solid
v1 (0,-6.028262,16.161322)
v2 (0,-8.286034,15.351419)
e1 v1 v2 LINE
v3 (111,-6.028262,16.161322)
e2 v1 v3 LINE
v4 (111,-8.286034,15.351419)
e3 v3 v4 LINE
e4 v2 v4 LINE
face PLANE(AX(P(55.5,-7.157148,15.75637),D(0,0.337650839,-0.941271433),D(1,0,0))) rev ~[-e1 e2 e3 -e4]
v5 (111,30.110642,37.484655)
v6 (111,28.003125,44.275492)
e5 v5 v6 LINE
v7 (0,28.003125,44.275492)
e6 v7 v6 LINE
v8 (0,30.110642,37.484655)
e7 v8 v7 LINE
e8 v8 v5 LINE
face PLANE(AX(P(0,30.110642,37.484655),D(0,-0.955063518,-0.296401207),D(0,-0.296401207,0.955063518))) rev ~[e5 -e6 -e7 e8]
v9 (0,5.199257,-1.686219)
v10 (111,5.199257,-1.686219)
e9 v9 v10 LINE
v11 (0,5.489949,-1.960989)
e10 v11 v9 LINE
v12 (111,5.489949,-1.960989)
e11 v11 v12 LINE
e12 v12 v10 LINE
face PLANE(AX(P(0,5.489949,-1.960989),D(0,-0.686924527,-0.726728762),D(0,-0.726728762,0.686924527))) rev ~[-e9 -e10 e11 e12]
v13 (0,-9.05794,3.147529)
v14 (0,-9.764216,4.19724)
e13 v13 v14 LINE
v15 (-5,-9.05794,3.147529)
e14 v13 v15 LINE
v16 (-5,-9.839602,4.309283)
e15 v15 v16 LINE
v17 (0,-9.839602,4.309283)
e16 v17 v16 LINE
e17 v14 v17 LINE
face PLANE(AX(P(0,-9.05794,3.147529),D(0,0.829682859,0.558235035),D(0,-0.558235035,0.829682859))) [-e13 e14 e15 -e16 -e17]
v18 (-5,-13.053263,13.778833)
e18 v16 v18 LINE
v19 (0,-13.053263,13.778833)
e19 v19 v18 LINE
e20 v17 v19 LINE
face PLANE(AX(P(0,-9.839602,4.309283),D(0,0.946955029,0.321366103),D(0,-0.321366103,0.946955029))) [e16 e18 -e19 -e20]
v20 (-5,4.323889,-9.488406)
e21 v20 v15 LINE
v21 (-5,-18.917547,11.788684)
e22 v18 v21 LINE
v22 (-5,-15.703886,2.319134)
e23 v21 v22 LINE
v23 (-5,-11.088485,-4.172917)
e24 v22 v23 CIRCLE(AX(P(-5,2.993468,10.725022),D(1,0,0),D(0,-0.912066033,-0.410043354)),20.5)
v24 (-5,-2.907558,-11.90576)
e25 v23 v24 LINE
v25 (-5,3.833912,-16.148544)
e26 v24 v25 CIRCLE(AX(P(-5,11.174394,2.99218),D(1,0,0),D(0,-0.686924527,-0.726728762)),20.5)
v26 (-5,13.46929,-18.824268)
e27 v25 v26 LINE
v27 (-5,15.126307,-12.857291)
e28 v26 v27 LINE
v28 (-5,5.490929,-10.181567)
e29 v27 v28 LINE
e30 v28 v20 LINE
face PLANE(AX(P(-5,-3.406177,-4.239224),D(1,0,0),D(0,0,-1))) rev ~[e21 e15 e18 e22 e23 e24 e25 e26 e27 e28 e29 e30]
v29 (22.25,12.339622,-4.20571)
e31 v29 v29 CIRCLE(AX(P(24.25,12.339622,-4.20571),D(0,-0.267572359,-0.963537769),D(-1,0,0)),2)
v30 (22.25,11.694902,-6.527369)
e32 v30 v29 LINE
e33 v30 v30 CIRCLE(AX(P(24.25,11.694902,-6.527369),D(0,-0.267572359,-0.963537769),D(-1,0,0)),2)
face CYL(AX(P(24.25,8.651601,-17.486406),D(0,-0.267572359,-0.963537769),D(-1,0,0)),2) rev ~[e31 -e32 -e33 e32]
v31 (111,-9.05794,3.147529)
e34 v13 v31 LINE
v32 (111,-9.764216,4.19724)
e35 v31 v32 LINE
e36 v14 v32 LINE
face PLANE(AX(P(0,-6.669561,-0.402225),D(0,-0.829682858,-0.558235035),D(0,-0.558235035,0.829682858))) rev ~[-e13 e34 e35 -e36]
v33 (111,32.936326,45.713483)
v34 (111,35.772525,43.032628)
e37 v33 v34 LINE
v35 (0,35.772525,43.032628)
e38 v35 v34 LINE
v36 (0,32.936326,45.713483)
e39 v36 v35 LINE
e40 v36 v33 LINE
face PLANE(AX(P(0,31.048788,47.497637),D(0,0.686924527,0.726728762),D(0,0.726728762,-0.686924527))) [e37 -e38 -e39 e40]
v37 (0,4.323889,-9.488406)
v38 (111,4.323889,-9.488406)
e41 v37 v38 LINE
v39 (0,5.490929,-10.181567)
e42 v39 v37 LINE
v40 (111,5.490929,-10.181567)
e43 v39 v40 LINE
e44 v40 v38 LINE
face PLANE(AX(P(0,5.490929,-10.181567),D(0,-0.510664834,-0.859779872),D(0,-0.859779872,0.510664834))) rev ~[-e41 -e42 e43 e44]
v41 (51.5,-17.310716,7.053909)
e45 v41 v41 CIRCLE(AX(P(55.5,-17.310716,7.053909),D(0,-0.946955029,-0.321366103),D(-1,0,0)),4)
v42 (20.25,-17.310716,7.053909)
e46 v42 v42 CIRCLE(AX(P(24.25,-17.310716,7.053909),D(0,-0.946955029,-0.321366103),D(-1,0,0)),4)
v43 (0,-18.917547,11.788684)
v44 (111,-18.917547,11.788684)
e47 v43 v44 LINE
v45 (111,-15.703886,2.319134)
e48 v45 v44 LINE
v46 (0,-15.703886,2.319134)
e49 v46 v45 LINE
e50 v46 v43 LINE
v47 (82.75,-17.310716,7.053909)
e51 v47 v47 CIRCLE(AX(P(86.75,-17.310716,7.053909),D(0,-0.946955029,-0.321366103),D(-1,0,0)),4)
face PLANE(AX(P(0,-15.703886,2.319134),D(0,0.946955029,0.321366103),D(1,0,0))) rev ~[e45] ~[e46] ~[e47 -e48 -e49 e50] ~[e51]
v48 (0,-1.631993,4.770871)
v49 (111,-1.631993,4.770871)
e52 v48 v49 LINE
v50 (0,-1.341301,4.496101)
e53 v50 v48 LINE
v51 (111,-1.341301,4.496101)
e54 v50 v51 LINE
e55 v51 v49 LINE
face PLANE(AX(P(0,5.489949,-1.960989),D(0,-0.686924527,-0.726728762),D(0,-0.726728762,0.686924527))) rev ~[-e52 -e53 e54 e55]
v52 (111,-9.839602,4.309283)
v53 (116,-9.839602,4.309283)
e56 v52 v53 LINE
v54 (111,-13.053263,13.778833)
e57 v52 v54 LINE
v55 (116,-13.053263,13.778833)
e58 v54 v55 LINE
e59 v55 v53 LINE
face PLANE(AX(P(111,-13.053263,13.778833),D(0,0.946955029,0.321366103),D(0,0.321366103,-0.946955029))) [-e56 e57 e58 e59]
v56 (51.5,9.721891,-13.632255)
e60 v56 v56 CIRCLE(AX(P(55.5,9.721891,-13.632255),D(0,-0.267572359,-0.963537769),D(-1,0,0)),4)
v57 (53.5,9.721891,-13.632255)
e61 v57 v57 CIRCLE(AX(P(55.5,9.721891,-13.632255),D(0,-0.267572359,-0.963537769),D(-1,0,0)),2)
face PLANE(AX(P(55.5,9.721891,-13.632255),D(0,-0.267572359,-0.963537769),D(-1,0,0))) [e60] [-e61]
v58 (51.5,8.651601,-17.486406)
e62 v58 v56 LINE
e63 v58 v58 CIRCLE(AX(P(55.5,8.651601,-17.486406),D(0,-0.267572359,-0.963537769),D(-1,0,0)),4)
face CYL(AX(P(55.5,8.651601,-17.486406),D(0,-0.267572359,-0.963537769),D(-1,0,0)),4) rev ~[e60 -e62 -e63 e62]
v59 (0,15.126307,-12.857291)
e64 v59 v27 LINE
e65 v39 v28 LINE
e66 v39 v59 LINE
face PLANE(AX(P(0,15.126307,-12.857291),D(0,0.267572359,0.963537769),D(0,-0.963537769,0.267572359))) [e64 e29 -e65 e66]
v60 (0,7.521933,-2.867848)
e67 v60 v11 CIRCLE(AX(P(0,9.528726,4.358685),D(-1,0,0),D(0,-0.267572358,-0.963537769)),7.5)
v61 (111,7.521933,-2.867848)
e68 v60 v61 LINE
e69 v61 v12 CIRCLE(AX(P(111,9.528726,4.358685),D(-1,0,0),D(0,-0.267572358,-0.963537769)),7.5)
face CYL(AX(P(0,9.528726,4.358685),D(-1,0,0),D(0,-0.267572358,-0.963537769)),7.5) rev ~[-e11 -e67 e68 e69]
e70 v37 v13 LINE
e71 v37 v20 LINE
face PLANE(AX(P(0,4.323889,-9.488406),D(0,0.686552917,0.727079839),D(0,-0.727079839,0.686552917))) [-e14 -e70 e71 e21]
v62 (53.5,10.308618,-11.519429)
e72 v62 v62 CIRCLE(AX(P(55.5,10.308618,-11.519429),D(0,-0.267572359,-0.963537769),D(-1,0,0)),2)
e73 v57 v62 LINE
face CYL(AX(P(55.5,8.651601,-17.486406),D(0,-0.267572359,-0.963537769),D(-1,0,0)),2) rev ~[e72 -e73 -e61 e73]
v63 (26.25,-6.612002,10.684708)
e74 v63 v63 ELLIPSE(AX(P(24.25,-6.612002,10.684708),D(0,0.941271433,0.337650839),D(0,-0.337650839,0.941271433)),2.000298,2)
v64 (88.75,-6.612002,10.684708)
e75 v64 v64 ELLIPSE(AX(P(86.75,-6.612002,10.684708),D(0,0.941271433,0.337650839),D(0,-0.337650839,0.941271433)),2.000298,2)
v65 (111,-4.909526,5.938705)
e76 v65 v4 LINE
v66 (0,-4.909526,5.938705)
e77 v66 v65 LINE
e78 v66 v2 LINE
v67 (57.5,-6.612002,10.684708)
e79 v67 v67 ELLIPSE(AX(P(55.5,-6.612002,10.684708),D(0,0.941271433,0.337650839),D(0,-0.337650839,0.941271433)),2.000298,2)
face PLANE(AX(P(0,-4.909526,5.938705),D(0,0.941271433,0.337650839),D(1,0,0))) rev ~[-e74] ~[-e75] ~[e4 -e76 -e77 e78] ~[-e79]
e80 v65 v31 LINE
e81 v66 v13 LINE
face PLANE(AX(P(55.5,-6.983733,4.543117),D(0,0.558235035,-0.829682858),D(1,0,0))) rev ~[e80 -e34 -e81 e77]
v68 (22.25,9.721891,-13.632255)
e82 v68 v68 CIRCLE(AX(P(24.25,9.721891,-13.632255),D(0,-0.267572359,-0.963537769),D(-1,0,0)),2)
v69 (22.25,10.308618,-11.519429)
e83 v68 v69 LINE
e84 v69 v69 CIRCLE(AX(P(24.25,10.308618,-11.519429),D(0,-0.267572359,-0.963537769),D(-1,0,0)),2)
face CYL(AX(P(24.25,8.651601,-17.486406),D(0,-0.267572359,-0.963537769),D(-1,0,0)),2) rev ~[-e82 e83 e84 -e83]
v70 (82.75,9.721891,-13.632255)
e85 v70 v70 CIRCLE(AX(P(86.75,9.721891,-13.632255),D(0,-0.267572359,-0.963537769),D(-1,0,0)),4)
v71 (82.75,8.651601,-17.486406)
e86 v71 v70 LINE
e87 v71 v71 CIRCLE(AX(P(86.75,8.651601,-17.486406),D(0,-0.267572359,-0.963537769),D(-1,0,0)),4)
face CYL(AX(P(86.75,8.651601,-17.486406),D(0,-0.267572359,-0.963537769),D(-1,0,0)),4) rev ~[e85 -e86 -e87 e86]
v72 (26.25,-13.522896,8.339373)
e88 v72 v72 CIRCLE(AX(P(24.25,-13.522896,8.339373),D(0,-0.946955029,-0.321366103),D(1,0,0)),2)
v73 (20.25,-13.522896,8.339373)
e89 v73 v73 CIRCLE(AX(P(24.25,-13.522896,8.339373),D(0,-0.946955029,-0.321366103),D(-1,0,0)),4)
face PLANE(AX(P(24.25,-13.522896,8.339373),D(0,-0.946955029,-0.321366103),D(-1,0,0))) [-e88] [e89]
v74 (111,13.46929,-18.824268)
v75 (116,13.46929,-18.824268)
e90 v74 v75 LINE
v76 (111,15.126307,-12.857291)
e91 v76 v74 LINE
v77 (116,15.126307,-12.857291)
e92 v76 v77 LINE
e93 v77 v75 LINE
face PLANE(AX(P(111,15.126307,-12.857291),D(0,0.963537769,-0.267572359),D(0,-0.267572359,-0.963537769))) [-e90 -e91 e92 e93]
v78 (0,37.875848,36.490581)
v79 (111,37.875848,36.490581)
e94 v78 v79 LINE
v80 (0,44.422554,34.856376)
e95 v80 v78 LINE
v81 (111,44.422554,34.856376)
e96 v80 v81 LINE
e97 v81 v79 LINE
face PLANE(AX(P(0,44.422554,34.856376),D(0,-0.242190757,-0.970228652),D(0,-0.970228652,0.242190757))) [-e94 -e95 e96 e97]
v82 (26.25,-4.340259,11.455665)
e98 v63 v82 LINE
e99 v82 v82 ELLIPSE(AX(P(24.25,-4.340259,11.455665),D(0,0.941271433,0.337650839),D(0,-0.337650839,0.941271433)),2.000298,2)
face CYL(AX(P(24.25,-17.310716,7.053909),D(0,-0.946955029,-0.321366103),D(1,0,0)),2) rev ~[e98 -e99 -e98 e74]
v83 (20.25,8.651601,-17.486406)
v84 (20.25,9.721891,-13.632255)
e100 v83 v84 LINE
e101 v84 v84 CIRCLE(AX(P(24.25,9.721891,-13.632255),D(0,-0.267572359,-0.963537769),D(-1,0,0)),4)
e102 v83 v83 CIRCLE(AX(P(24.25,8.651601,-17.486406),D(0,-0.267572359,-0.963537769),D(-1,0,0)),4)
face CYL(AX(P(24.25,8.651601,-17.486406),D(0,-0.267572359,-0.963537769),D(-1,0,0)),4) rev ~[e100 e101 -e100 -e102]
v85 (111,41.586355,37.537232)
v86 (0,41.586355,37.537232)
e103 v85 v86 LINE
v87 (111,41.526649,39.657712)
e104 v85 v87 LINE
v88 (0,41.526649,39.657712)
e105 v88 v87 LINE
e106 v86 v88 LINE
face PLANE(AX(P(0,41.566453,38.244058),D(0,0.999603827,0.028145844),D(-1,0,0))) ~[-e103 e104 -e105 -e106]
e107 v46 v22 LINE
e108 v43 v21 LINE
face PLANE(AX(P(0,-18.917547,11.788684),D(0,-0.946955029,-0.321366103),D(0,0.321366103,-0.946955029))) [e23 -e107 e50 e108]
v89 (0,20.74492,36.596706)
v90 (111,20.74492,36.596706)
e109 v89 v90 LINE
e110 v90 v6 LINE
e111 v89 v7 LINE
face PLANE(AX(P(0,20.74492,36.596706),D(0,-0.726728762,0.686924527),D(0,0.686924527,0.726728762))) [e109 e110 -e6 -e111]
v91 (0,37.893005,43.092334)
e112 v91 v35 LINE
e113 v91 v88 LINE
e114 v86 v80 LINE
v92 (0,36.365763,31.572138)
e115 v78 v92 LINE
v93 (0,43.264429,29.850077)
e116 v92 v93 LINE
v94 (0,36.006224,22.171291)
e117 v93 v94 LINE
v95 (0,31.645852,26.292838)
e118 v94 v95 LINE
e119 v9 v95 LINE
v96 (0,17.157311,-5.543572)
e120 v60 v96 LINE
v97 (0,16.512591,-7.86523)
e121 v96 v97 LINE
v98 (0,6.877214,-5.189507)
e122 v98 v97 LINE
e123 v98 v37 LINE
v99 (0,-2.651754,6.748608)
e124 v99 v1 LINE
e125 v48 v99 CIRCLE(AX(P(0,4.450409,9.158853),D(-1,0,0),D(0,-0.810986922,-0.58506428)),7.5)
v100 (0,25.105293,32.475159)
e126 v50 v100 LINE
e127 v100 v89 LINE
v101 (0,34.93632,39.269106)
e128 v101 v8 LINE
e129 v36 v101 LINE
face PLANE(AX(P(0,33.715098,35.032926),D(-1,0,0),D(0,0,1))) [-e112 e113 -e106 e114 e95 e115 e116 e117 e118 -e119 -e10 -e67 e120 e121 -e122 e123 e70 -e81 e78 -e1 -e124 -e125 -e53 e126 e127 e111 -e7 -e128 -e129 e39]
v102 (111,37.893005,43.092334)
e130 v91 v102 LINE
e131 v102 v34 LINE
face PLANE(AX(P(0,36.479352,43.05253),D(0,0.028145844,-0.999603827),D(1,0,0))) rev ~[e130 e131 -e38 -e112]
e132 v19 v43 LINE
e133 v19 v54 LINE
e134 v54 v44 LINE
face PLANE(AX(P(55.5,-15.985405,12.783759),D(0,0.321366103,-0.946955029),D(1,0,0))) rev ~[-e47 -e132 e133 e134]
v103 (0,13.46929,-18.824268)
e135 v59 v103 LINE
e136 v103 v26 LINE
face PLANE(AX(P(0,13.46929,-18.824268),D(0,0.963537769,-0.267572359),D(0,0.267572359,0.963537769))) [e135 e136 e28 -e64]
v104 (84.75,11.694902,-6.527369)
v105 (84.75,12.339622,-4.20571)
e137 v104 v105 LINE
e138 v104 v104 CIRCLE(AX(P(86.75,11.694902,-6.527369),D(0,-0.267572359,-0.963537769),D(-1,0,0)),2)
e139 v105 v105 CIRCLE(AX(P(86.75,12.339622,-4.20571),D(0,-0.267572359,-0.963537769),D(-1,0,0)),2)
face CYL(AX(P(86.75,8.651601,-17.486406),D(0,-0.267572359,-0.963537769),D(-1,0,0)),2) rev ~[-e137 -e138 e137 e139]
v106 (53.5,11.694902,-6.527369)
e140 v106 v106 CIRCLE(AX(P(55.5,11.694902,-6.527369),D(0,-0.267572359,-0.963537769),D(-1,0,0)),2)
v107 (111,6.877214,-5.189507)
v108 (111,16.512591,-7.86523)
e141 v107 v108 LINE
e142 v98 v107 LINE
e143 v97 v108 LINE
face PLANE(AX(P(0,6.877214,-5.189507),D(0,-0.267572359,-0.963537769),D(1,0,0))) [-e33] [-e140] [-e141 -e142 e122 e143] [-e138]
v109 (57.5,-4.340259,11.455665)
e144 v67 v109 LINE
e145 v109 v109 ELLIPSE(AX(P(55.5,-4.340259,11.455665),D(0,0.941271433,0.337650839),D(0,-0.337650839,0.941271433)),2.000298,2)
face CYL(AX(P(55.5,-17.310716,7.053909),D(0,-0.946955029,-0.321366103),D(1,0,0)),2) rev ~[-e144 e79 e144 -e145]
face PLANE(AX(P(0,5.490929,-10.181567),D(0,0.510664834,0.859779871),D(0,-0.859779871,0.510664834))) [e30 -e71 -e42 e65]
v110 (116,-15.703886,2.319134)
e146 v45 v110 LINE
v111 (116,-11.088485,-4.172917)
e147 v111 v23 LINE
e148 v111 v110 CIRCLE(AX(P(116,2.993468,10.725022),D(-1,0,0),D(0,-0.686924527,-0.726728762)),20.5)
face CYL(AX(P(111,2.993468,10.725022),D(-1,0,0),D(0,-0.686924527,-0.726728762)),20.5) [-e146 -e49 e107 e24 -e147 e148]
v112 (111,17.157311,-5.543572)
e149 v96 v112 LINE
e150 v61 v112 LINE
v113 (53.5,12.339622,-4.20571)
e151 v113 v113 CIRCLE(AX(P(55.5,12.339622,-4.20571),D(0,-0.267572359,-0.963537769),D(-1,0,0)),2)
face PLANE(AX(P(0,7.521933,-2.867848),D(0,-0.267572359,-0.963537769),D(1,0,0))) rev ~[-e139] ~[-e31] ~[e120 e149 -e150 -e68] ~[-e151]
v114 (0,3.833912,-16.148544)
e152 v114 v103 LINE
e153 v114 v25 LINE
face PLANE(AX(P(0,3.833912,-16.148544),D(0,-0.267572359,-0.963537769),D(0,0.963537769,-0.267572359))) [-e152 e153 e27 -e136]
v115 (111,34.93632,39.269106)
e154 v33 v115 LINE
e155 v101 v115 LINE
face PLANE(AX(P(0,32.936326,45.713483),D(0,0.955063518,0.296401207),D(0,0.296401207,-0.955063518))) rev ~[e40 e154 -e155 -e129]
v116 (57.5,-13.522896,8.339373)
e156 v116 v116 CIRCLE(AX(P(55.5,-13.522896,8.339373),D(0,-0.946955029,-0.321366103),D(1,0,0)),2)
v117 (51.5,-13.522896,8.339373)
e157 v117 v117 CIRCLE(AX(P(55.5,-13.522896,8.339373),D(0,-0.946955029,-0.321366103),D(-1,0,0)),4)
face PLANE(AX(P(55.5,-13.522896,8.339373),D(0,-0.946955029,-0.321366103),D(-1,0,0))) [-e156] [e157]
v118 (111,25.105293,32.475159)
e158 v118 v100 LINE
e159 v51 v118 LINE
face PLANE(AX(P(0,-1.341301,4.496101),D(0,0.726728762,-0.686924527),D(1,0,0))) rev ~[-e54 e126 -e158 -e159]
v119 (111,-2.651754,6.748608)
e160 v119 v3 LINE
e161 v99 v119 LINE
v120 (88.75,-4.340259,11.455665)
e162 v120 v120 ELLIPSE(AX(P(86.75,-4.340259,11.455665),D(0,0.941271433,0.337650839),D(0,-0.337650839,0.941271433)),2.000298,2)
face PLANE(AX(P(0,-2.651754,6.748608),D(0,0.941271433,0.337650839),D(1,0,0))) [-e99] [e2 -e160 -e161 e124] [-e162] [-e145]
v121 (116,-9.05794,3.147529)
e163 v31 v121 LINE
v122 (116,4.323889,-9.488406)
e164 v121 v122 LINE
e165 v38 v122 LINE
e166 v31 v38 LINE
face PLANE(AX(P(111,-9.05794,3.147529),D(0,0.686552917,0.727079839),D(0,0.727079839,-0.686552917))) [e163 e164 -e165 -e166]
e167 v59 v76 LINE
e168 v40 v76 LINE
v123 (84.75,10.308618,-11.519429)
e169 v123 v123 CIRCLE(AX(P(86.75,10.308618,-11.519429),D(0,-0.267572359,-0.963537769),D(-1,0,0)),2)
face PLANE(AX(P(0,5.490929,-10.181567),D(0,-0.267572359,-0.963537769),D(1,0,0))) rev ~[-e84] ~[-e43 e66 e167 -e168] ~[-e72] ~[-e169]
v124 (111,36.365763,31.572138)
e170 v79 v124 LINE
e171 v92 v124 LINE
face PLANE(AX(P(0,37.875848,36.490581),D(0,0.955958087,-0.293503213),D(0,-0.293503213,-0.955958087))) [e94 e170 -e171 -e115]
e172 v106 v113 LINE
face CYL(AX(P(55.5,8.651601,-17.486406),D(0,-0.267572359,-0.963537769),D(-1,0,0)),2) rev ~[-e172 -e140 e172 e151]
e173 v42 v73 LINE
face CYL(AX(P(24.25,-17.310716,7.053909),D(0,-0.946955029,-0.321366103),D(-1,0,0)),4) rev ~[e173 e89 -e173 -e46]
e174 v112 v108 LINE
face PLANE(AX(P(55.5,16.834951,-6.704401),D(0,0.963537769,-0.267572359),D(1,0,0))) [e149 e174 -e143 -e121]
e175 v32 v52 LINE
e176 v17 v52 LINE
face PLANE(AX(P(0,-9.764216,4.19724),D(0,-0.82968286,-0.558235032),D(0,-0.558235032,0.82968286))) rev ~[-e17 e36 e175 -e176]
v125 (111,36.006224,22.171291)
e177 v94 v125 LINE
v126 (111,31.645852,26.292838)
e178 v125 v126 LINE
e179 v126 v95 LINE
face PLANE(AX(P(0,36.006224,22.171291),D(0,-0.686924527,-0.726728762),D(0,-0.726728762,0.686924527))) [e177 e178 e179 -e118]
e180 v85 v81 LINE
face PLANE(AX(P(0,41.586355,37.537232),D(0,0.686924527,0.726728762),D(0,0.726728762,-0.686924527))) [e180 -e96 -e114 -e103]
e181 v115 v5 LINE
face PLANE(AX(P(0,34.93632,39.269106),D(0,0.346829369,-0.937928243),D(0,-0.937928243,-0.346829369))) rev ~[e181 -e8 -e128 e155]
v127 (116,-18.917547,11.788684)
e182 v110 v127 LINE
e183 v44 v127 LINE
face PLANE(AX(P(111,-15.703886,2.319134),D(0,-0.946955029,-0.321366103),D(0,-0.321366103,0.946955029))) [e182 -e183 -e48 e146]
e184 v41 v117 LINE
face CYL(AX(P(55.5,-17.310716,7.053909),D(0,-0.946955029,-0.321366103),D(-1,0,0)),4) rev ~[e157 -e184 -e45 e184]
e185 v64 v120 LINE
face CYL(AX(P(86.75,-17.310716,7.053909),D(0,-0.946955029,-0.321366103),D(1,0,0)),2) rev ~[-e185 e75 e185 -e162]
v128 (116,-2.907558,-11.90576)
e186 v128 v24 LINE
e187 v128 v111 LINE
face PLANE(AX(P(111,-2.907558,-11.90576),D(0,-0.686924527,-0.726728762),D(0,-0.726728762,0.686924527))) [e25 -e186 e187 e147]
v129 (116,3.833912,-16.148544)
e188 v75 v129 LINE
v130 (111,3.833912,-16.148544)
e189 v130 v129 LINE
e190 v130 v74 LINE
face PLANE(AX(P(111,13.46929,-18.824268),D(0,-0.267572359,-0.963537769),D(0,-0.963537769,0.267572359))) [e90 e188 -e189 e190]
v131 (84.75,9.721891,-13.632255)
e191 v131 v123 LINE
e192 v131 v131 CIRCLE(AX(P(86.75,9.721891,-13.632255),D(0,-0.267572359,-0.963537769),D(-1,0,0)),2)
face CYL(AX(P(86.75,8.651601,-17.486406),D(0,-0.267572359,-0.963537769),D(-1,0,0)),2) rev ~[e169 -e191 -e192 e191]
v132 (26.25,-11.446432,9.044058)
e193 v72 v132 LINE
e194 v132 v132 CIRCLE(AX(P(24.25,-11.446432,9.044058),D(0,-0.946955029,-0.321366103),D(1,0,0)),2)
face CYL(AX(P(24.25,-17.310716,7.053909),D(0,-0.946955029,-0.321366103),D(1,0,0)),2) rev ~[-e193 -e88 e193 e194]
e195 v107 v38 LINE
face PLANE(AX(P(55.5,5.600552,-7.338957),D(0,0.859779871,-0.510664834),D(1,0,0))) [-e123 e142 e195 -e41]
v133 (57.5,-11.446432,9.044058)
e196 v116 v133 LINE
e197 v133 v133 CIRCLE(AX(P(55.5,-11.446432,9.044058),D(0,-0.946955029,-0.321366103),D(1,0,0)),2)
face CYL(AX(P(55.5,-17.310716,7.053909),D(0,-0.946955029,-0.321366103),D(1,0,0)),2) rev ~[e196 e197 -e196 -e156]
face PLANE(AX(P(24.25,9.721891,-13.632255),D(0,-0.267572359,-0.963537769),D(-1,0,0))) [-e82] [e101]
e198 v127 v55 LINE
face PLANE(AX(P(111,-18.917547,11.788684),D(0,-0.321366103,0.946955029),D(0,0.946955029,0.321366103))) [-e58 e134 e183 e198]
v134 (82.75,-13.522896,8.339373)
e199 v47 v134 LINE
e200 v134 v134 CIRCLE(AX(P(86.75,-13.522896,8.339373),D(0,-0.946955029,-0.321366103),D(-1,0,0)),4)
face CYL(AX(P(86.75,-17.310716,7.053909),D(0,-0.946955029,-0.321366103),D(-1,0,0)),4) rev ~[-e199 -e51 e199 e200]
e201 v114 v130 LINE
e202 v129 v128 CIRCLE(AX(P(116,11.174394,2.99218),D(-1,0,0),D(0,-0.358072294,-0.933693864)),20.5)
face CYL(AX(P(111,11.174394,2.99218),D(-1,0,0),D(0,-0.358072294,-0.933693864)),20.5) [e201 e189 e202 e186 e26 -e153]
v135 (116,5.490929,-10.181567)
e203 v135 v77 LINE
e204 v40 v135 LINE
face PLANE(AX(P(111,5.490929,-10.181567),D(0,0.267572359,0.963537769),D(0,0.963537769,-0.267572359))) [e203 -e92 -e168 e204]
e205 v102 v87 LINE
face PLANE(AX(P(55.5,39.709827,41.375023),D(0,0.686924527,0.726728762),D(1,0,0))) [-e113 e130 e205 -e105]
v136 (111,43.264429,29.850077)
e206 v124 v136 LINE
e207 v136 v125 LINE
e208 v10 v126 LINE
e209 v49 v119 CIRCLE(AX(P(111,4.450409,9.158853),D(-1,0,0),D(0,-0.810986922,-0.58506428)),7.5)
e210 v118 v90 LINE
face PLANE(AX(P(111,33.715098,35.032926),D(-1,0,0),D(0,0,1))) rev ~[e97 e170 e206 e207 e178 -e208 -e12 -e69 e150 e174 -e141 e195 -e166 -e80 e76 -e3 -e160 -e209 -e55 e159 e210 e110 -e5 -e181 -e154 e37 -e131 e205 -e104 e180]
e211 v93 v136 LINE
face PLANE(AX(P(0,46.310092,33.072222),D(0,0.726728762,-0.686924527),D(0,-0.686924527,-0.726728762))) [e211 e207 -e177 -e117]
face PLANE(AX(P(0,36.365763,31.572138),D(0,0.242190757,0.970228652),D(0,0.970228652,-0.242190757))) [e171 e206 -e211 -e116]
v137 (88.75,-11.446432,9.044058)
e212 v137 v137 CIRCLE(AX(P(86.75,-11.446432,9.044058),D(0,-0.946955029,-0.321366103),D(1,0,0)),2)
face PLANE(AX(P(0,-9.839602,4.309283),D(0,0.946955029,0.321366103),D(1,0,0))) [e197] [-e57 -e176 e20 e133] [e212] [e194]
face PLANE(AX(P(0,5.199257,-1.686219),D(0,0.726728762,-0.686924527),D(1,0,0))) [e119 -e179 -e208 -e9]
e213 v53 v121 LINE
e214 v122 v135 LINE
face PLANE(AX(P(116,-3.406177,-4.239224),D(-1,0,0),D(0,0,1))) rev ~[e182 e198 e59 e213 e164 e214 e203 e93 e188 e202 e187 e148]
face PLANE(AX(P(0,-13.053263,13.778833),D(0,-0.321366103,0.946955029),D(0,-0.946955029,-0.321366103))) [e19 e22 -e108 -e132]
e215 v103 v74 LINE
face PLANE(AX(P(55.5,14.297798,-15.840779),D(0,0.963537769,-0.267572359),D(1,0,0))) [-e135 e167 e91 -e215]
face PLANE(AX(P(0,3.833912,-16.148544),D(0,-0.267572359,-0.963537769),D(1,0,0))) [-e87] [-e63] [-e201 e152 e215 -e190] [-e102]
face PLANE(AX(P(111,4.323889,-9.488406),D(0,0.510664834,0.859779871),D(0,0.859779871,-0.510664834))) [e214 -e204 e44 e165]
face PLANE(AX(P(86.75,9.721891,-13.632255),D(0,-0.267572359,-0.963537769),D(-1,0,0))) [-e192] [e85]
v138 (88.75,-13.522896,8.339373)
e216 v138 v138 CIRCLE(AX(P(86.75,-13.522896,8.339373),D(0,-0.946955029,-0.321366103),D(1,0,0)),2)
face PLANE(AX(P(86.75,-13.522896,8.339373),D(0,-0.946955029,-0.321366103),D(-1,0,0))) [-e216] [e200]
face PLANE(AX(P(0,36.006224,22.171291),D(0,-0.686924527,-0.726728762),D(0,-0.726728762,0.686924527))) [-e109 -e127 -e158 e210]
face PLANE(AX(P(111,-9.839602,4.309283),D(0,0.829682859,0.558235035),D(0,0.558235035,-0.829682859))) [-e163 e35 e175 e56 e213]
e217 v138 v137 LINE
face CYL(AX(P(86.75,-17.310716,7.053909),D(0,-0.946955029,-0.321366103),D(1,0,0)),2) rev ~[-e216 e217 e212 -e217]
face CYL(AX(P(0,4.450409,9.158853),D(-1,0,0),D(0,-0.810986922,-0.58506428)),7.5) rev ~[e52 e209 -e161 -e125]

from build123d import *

# Parameters (mm, degrees)
SALIENTE_EXTRUIR1_DEPTH  = 111
CROQUIS2_W               = 111
CROQUIS2_H               = 6.192779451
SALIENTE_EXTRUIR2_DEPTH  = 10
CROQUIS3_W               = 111
CROQUIS3_H               = 2.409514801
SALIENTE_EXTRUIR3_DEPTH  = 10
CROQUIS4_W               = 111
CROQUIS4_H               = 2.398640609
SALIENTE_EXTRUIR4_DEPTH  = 10
CROQUIS5_W               = 111
CROQUIS5_H               = 6.192779451
SALIENTE_EXTRUIR5_DEPTH  = 10
CROQUIS6_W               = 111
CROQUIS6_H               = 5
SALIENTE_EXTRUIR6_DEPTH  = 4.321315
CROQUIS7_W               = 111
CROQUIS7_H               = 5
SALIENTE_EXTRUIR7_DEPTH  = 4.278447
CROQUIS8_W               = 111
CROQUIS8_H               = 9
SALIENTE_EXTRUIR8_DEPTH  = 55
CROQUIS9_R               = 2
CORTAR_EXTRUIR1_DEPTH    = 16
CROQUIS10_R              = 4
CORTAR_EXTRUIR2_DEPTH    = 4
CROQUIS11_R              = 2
CORTAR_EXTRUIR3_DEPTH    = 15
CROQUIS12_R              = 4
CORTAR_EXTRUIR4_DEPTH    = 4
SALIENTE_EXTRUIR9_DEPTH  = 5
SALIENTE_EXTRUIR11_DEPTH = 5
CHAFL_N1_SIZE            = 2
CROQUIS17_W              = 111
CROQUIS17_H              = 2.5
CORTAR_EXTRUIR5_DEPTH    = 1
CROQUIS18_W              = 111
CROQUIS18_H              = 2.5
CORTAR_EXTRUIR6_DEPTH    = 1
SALIENTE_EXTRUIR13_DEPTH = 111
CORTAR_EXTRUIR7_DEPTH    = 111


with BuildPart() as part:
    # Croquis1 → Saliente-Extruir1 (new body)
    with BuildSketch(Plane(origin=(0, 0, 0), x_dir=(0, 0, -1), z_dir=(1, 0, 0))):
        with BuildLine():
            Line((7.281662572, 0.608509867), (5.132212893, 1.885171952))
            Line((5.132212893, 1.885171952), (2.982763214, 3.161834037))
            Line((2.982763214, 3.161834037), (5.189506733, 6.877213544))
            Line((5.189506733, 6.877213544), (2.867848216, 7.521933103))
            ThreePointArc((2.867848216, 7.521933103), (2.490196159, 6.4721221), (1.960989109, 5.489948939))
            Line((1.960989109, 5.489948939), (-4.770871258, -1.63199293))
            ThreePointArc((-4.770871258, -1.63199293), (-5.721710129, -2.215627798), (-6.748607586, -2.651753735))
            Line((-6.748607586, -2.651753735), (-5.938704572, -4.909525619))
            Line((-5.938704572, -4.909525619), (-2.388950365, -2.52114656))
            Line((-2.388950365, -2.52114656), (-0.993362777, -4.595353706))
            Line((-0.993362777, -4.595353706), (0.402224811, -6.669560852))
            Line((0.402224811, -6.669560852), (-4.197240467, -9.7642164))
            Line((-4.197240467, -9.7642164), (-4.309282935, -9.839601868))
            Line((-4.309282935, -9.839601868), (-2.319133534, -15.703885515))
            ThreePointArc((-2.319133534, -15.703885515), (1.153217714, -13.714536347), (4.172917336, -11.088484655))
            Line((4.172917336, -11.088484655), (11.905759692, -2.907558323))
            ThreePointArc((11.905759692, -2.907558323), (14.35773408, 0.255123277), (16.14854429, 3.83391247))
            Line((16.14854429, 3.83391247), (10.181567392, 5.490929075))
            Line((10.181567392, 5.490929075), (7.281662572, 0.608509867))
        make_face()
    extrude(amount=SALIENTE_EXTRUIR1_DEPTH)

    # Croquis2 → Saliente-Extruir2 (add)
    with BuildSketch(Plane(origin=(0, 7.722777916, -2.144598757), x_dir=(1, 0, 0), z_dir=(0, 0.963537769, -0.267572359))):
        with Locations((55.5, 11.437493615)):
            Rectangle(CROQUIS2_W, CROQUIS2_H)
    extrude(amount=SALIENTE_EXTRUIR2_DEPTH)

    # Croquis3 → Saliente-Extruir3 (add)
    with BuildSketch(Plane(origin=(0, 7.722777916, -2.144598757), x_dir=(1, 0, 0), z_dir=(0, 0.963537769, -0.267572359))):
        with Locations((55.5, 1.955376092)):
            Rectangle(CROQUIS3_W, CROQUIS3_H)
    extrude(amount=SALIENTE_EXTRUIR3_DEPTH)

    # Croquis4 → Saliente-Extruir4 (add)
    with BuildSketch(Plane(origin=(0, -0.571048753, 7.494993546), x_dir=(1, 0, 0), z_dir=(0, 0.337650839, -0.941271433))):
        with Locations((55.5, 3.409846311)):
            Rectangle(CROQUIS4_W, CROQUIS4_H)
    extrude(amount=-SALIENTE_EXTRUIR4_DEPTH)

    # Croquis5 → Saliente-Extruir5 (add)
    with BuildSketch(Plane(origin=(0, -0.440143301, 7.499157089), x_dir=(1, 0, 0), z_dir=(0, 0.321366103, -0.946955029))):
        with Locations((55.5, 13.022371717)):
            Rectangle(CROQUIS5_W, CROQUIS5_H)
    extrude(amount=-SALIENTE_EXTRUIR5_DEPTH)

    # Croquis6 → Saliente-Extruir6 (add)
    with BuildSketch(Plane(origin=(0, 3.646905534, -2.166073516), x_dir=(1, 0, 0), z_dir=(0, 0.859779871, -0.510664834))):
        with Locations((55.5, 3.44988232)):
            Rectangle(CROQUIS6_W, CROQUIS6_H)
    extrude(amount=SALIENTE_EXTRUIR6_DEPTH)

    # Croquis7 → Saliente-Extruir7 (add)
    with BuildSketch(Plane(origin=(0, 6.51296949, 8.467369412), x_dir=(1, 0, 0), z_dir=(0, 0.558235035, -0.829682858))):
        with Locations((55.5, 13.388637699)):
            Rectangle(CROQUIS7_W, CROQUIS7_H)
    extrude(amount=-SALIENTE_EXTRUIR7_DEPTH)

    # Croquis8 → Saliente-Extruir8 (add)
    with BuildSketch(Plane(origin=(0, 1.611575356, 1.704959012), x_dir=(1, 0, 0), z_dir=(0, 0.686924527, 0.726728762))):
        with Locations((55.5, 0.436755314)):
            Rectangle(CROQUIS8_W, CROQUIS8_H)
    extrude(amount=SALIENTE_EXTRUIR8_DEPTH)

    # Croquis9 → Cortar-Extruir1 (cut)
    with BuildSketch(Plane(origin=(0, -3.888865446, -14.003945532), x_dir=(-1, 0, 0), z_dir=(0, -0.267572359, -0.963537769))):
        with Locations((-86.75, 13.015023554)):
            Circle(CROQUIS9_R)
        with Locations((-55.5, 13.015023554)):
            Circle(CROQUIS9_R)
        with Locations((-24.25, 13.015023554)):
            Circle(CROQUIS9_R)
    extrude(amount=-CORTAR_EXTRUIR1_DEPTH, mode=Mode.SUBTRACT)

    # Croquis10 → Cortar-Extruir2 (cut)
    with BuildSketch(Plane(origin=(0, -3.888865446, -14.003945532), x_dir=(-1, 0, 0), z_dir=(0, -0.267572359, -0.963537769))):
        with Locations((-86.75, 13.015023554)):
            Circle(CROQUIS10_R)
        with Locations((-55.5, 13.015023554)):
            Circle(CROQUIS10_R)
        with Locations((-24.25, 13.015023554)):
            Circle(CROQUIS10_R)
    extrude(amount=-CORTAR_EXTRUIR2_DEPTH, mode=Mode.SUBTRACT)

    # Croquis11 → Cortar-Extruir3 (cut)
    with BuildSketch(Plane(origin=(0, -13.376291354, -4.539483394), x_dir=(1, 0, 0), z_dir=(0, -0.946955029, -0.321366103))):
        with Locations((55.5, 12.242811659)):
            Circle(CROQUIS11_R)
        with Locations((24.25, 12.242811659)):
            Circle(CROQUIS11_R)
        with Locations((86.75, 12.242811659)):
            Circle(CROQUIS11_R)
    extrude(amount=-CORTAR_EXTRUIR3_DEPTH, mode=Mode.SUBTRACT)

    # Croquis12 → Cortar-Extruir4 (cut)
    with BuildSketch(Plane(origin=(0, -13.376291354, -4.539483394), x_dir=(-1, 0, 0), z_dir=(0, -0.946955029, -0.321366103))):
        with Locations((-24.25, -12.242811659)):
            Circle(CROQUIS12_R)
        with Locations((-55.5, -12.242811659)):
            Circle(CROQUIS12_R)
        with Locations((-86.75, -12.242811659)):
            Circle(CROQUIS12_R)
    extrude(amount=-CORTAR_EXTRUIR4_DEPTH, mode=Mode.SUBTRACT)

    # Croquis13 → Saliente-Extruir9 (add)
    with BuildSketch(Plane.ZY):
        with BuildLine():
            Line((-9.48840609, 4.323889374), (3.147529397, -9.057939911))
            Line((3.147529397, -9.057939911), (4.309282935, -9.839601868))
            Line((4.309282935, -9.839601868), (13.778833228, -13.053262902))
            Line((13.778833228, -13.053262902), (11.788683827, -18.917546549))
            Line((11.788683827, -18.917546549), (2.319133534, -15.703885515))
            ThreePointArc((2.319133534, -15.703885515), (-1.153217714, -13.714536347), (-4.172917336, -11.088484655))
            Line((-4.172917336, -11.088484655), (-11.905759692, -2.907558323))
            ThreePointArc((-11.905759692, -2.907558323), (-14.35773408, 0.255123277), (-16.14854429, 3.83391247))
            Line((-16.14854429, 3.83391247), (-18.824267877, 13.469290163))
            Line((-18.824267877, 13.469290163), (-12.857290979, 15.126306768))
            Line((-12.857290979, 15.126306768), (-10.181567392, 5.490929075))
            Line((-10.181567392, 5.490929075), (-9.48840609, 4.323889374))
        make_face()
    extrude(amount=SALIENTE_EXTRUIR9_DEPTH)

    # Croquis15 → Saliente-Extruir11 (add)
    with BuildSketch(Plane(origin=(111, 0, 0), x_dir=(0, 0, -1), z_dir=(1, 0, 0))):
        with BuildLine():
            Line((-3.147529397, -9.057939911), (9.48840609, 4.323889374))
            Line((9.48840609, 4.323889374), (10.181567392, 5.490929075))
            Line((10.181567392, 5.490929075), (12.857290979, 15.126306768))
            Line((12.857290979, 15.126306768), (18.824267877, 13.469290163))
            Line((18.824267877, 13.469290163), (16.14854429, 3.83391247))
            ThreePointArc((16.14854429, 3.83391247), (14.35773408, 0.255123277), (11.905759692, -2.907558323))
            Line((11.905759692, -2.907558323), (4.172917336, -11.088484655))
            ThreePointArc((4.172917336, -11.088484655), (1.153217714, -13.714536347), (-2.319133534, -15.703885515))
            Line((-2.319133534, -15.703885515), (-11.788683827, -18.917546549))
            Line((-11.788683827, -18.917546549), (-13.778833228, -13.053262902))
            Line((-13.778833228, -13.053262902), (-4.309282935, -9.839601868))
            Line((-4.309282935, -9.839601868), (-3.147529397, -9.057939911))
        make_face()
    extrude(amount=SALIENTE_EXTRUIR11_DEPTH)

    # Chaflán1
    chafl_n1_edges = [part.edges().sort_by_distance(p)[0] for p in [
        (55.5, 42.980106436, 38.283862622),
        (55.5, 36.439547576, 44.466183368),
    ]]
    chamfer(chafl_n1_edges, length=CHAFL_N1_SIZE)

    # Croquis17 → Cortar-Extruir5 (cut)
    with BuildSketch(Plane(origin=(0, 3.587682079, -3.391178311), x_dir=(1, 0, 0), z_dir=(0, 0.726728762, -0.686924527))):
        with Locations((55.5, -54.596073392)):
            Rectangle(CROQUIS17_W, CROQUIS17_H)
    extrude(amount=-CORTAR_EXTRUIR5_DEPTH, mode=Mode.SUBTRACT)

    # Croquis18 → Cortar-Extruir6 (cut)
    with BuildSketch(Plane(origin=(0, -2.952876781, 2.791142435), x_dir=(-1, 0, 0), z_dir=(0, -0.726728762, 0.686924527))):
        with Locations((-55.5, -54.596073392)):
            Rectangle(CROQUIS18_W, CROQUIS18_H)
    extrude(amount=-CORTAR_EXTRUIR6_DEPTH, mode=Mode.SUBTRACT)

    # Croquis19 → Saliente-Extruir13 (add)
    with BuildSketch(Plane.ZY):
        Polygon((37.537231743, 41.586355264), (33.072222315, 46.310092218), (22.171290882, 36.006224308), (36.596705955, 20.744920302), (47.497637388, 31.048788212), (43.032627961, 35.772525166), (43.092334313, 37.8930051), (39.657711677, 41.526648911), align=None)
    extrude(amount=-SALIENTE_EXTRUIR13_DEPTH)

    # Croquis20 → Cortar-Extruir7 (cut)
    with BuildSketch(Plane.ZY):
        Polygon((45.713483262, 32.936326171), (39.269105528, 34.936320207), (37.48465455, 30.110641878), (44.275491662, 28.003125173), (47.497637388, 31.048788212), align=None)
        Polygon((33.072222315, 46.310092218), (34.856376442, 44.422554259), (36.490580545, 37.875848411), (31.572137947, 36.36576264), (29.850076589, 43.264429179), align=None)
    extrude(amount=-CORTAR_EXTRUIR7_DEPTH, mode=Mode.SUBTRACT)


solid = part.part
